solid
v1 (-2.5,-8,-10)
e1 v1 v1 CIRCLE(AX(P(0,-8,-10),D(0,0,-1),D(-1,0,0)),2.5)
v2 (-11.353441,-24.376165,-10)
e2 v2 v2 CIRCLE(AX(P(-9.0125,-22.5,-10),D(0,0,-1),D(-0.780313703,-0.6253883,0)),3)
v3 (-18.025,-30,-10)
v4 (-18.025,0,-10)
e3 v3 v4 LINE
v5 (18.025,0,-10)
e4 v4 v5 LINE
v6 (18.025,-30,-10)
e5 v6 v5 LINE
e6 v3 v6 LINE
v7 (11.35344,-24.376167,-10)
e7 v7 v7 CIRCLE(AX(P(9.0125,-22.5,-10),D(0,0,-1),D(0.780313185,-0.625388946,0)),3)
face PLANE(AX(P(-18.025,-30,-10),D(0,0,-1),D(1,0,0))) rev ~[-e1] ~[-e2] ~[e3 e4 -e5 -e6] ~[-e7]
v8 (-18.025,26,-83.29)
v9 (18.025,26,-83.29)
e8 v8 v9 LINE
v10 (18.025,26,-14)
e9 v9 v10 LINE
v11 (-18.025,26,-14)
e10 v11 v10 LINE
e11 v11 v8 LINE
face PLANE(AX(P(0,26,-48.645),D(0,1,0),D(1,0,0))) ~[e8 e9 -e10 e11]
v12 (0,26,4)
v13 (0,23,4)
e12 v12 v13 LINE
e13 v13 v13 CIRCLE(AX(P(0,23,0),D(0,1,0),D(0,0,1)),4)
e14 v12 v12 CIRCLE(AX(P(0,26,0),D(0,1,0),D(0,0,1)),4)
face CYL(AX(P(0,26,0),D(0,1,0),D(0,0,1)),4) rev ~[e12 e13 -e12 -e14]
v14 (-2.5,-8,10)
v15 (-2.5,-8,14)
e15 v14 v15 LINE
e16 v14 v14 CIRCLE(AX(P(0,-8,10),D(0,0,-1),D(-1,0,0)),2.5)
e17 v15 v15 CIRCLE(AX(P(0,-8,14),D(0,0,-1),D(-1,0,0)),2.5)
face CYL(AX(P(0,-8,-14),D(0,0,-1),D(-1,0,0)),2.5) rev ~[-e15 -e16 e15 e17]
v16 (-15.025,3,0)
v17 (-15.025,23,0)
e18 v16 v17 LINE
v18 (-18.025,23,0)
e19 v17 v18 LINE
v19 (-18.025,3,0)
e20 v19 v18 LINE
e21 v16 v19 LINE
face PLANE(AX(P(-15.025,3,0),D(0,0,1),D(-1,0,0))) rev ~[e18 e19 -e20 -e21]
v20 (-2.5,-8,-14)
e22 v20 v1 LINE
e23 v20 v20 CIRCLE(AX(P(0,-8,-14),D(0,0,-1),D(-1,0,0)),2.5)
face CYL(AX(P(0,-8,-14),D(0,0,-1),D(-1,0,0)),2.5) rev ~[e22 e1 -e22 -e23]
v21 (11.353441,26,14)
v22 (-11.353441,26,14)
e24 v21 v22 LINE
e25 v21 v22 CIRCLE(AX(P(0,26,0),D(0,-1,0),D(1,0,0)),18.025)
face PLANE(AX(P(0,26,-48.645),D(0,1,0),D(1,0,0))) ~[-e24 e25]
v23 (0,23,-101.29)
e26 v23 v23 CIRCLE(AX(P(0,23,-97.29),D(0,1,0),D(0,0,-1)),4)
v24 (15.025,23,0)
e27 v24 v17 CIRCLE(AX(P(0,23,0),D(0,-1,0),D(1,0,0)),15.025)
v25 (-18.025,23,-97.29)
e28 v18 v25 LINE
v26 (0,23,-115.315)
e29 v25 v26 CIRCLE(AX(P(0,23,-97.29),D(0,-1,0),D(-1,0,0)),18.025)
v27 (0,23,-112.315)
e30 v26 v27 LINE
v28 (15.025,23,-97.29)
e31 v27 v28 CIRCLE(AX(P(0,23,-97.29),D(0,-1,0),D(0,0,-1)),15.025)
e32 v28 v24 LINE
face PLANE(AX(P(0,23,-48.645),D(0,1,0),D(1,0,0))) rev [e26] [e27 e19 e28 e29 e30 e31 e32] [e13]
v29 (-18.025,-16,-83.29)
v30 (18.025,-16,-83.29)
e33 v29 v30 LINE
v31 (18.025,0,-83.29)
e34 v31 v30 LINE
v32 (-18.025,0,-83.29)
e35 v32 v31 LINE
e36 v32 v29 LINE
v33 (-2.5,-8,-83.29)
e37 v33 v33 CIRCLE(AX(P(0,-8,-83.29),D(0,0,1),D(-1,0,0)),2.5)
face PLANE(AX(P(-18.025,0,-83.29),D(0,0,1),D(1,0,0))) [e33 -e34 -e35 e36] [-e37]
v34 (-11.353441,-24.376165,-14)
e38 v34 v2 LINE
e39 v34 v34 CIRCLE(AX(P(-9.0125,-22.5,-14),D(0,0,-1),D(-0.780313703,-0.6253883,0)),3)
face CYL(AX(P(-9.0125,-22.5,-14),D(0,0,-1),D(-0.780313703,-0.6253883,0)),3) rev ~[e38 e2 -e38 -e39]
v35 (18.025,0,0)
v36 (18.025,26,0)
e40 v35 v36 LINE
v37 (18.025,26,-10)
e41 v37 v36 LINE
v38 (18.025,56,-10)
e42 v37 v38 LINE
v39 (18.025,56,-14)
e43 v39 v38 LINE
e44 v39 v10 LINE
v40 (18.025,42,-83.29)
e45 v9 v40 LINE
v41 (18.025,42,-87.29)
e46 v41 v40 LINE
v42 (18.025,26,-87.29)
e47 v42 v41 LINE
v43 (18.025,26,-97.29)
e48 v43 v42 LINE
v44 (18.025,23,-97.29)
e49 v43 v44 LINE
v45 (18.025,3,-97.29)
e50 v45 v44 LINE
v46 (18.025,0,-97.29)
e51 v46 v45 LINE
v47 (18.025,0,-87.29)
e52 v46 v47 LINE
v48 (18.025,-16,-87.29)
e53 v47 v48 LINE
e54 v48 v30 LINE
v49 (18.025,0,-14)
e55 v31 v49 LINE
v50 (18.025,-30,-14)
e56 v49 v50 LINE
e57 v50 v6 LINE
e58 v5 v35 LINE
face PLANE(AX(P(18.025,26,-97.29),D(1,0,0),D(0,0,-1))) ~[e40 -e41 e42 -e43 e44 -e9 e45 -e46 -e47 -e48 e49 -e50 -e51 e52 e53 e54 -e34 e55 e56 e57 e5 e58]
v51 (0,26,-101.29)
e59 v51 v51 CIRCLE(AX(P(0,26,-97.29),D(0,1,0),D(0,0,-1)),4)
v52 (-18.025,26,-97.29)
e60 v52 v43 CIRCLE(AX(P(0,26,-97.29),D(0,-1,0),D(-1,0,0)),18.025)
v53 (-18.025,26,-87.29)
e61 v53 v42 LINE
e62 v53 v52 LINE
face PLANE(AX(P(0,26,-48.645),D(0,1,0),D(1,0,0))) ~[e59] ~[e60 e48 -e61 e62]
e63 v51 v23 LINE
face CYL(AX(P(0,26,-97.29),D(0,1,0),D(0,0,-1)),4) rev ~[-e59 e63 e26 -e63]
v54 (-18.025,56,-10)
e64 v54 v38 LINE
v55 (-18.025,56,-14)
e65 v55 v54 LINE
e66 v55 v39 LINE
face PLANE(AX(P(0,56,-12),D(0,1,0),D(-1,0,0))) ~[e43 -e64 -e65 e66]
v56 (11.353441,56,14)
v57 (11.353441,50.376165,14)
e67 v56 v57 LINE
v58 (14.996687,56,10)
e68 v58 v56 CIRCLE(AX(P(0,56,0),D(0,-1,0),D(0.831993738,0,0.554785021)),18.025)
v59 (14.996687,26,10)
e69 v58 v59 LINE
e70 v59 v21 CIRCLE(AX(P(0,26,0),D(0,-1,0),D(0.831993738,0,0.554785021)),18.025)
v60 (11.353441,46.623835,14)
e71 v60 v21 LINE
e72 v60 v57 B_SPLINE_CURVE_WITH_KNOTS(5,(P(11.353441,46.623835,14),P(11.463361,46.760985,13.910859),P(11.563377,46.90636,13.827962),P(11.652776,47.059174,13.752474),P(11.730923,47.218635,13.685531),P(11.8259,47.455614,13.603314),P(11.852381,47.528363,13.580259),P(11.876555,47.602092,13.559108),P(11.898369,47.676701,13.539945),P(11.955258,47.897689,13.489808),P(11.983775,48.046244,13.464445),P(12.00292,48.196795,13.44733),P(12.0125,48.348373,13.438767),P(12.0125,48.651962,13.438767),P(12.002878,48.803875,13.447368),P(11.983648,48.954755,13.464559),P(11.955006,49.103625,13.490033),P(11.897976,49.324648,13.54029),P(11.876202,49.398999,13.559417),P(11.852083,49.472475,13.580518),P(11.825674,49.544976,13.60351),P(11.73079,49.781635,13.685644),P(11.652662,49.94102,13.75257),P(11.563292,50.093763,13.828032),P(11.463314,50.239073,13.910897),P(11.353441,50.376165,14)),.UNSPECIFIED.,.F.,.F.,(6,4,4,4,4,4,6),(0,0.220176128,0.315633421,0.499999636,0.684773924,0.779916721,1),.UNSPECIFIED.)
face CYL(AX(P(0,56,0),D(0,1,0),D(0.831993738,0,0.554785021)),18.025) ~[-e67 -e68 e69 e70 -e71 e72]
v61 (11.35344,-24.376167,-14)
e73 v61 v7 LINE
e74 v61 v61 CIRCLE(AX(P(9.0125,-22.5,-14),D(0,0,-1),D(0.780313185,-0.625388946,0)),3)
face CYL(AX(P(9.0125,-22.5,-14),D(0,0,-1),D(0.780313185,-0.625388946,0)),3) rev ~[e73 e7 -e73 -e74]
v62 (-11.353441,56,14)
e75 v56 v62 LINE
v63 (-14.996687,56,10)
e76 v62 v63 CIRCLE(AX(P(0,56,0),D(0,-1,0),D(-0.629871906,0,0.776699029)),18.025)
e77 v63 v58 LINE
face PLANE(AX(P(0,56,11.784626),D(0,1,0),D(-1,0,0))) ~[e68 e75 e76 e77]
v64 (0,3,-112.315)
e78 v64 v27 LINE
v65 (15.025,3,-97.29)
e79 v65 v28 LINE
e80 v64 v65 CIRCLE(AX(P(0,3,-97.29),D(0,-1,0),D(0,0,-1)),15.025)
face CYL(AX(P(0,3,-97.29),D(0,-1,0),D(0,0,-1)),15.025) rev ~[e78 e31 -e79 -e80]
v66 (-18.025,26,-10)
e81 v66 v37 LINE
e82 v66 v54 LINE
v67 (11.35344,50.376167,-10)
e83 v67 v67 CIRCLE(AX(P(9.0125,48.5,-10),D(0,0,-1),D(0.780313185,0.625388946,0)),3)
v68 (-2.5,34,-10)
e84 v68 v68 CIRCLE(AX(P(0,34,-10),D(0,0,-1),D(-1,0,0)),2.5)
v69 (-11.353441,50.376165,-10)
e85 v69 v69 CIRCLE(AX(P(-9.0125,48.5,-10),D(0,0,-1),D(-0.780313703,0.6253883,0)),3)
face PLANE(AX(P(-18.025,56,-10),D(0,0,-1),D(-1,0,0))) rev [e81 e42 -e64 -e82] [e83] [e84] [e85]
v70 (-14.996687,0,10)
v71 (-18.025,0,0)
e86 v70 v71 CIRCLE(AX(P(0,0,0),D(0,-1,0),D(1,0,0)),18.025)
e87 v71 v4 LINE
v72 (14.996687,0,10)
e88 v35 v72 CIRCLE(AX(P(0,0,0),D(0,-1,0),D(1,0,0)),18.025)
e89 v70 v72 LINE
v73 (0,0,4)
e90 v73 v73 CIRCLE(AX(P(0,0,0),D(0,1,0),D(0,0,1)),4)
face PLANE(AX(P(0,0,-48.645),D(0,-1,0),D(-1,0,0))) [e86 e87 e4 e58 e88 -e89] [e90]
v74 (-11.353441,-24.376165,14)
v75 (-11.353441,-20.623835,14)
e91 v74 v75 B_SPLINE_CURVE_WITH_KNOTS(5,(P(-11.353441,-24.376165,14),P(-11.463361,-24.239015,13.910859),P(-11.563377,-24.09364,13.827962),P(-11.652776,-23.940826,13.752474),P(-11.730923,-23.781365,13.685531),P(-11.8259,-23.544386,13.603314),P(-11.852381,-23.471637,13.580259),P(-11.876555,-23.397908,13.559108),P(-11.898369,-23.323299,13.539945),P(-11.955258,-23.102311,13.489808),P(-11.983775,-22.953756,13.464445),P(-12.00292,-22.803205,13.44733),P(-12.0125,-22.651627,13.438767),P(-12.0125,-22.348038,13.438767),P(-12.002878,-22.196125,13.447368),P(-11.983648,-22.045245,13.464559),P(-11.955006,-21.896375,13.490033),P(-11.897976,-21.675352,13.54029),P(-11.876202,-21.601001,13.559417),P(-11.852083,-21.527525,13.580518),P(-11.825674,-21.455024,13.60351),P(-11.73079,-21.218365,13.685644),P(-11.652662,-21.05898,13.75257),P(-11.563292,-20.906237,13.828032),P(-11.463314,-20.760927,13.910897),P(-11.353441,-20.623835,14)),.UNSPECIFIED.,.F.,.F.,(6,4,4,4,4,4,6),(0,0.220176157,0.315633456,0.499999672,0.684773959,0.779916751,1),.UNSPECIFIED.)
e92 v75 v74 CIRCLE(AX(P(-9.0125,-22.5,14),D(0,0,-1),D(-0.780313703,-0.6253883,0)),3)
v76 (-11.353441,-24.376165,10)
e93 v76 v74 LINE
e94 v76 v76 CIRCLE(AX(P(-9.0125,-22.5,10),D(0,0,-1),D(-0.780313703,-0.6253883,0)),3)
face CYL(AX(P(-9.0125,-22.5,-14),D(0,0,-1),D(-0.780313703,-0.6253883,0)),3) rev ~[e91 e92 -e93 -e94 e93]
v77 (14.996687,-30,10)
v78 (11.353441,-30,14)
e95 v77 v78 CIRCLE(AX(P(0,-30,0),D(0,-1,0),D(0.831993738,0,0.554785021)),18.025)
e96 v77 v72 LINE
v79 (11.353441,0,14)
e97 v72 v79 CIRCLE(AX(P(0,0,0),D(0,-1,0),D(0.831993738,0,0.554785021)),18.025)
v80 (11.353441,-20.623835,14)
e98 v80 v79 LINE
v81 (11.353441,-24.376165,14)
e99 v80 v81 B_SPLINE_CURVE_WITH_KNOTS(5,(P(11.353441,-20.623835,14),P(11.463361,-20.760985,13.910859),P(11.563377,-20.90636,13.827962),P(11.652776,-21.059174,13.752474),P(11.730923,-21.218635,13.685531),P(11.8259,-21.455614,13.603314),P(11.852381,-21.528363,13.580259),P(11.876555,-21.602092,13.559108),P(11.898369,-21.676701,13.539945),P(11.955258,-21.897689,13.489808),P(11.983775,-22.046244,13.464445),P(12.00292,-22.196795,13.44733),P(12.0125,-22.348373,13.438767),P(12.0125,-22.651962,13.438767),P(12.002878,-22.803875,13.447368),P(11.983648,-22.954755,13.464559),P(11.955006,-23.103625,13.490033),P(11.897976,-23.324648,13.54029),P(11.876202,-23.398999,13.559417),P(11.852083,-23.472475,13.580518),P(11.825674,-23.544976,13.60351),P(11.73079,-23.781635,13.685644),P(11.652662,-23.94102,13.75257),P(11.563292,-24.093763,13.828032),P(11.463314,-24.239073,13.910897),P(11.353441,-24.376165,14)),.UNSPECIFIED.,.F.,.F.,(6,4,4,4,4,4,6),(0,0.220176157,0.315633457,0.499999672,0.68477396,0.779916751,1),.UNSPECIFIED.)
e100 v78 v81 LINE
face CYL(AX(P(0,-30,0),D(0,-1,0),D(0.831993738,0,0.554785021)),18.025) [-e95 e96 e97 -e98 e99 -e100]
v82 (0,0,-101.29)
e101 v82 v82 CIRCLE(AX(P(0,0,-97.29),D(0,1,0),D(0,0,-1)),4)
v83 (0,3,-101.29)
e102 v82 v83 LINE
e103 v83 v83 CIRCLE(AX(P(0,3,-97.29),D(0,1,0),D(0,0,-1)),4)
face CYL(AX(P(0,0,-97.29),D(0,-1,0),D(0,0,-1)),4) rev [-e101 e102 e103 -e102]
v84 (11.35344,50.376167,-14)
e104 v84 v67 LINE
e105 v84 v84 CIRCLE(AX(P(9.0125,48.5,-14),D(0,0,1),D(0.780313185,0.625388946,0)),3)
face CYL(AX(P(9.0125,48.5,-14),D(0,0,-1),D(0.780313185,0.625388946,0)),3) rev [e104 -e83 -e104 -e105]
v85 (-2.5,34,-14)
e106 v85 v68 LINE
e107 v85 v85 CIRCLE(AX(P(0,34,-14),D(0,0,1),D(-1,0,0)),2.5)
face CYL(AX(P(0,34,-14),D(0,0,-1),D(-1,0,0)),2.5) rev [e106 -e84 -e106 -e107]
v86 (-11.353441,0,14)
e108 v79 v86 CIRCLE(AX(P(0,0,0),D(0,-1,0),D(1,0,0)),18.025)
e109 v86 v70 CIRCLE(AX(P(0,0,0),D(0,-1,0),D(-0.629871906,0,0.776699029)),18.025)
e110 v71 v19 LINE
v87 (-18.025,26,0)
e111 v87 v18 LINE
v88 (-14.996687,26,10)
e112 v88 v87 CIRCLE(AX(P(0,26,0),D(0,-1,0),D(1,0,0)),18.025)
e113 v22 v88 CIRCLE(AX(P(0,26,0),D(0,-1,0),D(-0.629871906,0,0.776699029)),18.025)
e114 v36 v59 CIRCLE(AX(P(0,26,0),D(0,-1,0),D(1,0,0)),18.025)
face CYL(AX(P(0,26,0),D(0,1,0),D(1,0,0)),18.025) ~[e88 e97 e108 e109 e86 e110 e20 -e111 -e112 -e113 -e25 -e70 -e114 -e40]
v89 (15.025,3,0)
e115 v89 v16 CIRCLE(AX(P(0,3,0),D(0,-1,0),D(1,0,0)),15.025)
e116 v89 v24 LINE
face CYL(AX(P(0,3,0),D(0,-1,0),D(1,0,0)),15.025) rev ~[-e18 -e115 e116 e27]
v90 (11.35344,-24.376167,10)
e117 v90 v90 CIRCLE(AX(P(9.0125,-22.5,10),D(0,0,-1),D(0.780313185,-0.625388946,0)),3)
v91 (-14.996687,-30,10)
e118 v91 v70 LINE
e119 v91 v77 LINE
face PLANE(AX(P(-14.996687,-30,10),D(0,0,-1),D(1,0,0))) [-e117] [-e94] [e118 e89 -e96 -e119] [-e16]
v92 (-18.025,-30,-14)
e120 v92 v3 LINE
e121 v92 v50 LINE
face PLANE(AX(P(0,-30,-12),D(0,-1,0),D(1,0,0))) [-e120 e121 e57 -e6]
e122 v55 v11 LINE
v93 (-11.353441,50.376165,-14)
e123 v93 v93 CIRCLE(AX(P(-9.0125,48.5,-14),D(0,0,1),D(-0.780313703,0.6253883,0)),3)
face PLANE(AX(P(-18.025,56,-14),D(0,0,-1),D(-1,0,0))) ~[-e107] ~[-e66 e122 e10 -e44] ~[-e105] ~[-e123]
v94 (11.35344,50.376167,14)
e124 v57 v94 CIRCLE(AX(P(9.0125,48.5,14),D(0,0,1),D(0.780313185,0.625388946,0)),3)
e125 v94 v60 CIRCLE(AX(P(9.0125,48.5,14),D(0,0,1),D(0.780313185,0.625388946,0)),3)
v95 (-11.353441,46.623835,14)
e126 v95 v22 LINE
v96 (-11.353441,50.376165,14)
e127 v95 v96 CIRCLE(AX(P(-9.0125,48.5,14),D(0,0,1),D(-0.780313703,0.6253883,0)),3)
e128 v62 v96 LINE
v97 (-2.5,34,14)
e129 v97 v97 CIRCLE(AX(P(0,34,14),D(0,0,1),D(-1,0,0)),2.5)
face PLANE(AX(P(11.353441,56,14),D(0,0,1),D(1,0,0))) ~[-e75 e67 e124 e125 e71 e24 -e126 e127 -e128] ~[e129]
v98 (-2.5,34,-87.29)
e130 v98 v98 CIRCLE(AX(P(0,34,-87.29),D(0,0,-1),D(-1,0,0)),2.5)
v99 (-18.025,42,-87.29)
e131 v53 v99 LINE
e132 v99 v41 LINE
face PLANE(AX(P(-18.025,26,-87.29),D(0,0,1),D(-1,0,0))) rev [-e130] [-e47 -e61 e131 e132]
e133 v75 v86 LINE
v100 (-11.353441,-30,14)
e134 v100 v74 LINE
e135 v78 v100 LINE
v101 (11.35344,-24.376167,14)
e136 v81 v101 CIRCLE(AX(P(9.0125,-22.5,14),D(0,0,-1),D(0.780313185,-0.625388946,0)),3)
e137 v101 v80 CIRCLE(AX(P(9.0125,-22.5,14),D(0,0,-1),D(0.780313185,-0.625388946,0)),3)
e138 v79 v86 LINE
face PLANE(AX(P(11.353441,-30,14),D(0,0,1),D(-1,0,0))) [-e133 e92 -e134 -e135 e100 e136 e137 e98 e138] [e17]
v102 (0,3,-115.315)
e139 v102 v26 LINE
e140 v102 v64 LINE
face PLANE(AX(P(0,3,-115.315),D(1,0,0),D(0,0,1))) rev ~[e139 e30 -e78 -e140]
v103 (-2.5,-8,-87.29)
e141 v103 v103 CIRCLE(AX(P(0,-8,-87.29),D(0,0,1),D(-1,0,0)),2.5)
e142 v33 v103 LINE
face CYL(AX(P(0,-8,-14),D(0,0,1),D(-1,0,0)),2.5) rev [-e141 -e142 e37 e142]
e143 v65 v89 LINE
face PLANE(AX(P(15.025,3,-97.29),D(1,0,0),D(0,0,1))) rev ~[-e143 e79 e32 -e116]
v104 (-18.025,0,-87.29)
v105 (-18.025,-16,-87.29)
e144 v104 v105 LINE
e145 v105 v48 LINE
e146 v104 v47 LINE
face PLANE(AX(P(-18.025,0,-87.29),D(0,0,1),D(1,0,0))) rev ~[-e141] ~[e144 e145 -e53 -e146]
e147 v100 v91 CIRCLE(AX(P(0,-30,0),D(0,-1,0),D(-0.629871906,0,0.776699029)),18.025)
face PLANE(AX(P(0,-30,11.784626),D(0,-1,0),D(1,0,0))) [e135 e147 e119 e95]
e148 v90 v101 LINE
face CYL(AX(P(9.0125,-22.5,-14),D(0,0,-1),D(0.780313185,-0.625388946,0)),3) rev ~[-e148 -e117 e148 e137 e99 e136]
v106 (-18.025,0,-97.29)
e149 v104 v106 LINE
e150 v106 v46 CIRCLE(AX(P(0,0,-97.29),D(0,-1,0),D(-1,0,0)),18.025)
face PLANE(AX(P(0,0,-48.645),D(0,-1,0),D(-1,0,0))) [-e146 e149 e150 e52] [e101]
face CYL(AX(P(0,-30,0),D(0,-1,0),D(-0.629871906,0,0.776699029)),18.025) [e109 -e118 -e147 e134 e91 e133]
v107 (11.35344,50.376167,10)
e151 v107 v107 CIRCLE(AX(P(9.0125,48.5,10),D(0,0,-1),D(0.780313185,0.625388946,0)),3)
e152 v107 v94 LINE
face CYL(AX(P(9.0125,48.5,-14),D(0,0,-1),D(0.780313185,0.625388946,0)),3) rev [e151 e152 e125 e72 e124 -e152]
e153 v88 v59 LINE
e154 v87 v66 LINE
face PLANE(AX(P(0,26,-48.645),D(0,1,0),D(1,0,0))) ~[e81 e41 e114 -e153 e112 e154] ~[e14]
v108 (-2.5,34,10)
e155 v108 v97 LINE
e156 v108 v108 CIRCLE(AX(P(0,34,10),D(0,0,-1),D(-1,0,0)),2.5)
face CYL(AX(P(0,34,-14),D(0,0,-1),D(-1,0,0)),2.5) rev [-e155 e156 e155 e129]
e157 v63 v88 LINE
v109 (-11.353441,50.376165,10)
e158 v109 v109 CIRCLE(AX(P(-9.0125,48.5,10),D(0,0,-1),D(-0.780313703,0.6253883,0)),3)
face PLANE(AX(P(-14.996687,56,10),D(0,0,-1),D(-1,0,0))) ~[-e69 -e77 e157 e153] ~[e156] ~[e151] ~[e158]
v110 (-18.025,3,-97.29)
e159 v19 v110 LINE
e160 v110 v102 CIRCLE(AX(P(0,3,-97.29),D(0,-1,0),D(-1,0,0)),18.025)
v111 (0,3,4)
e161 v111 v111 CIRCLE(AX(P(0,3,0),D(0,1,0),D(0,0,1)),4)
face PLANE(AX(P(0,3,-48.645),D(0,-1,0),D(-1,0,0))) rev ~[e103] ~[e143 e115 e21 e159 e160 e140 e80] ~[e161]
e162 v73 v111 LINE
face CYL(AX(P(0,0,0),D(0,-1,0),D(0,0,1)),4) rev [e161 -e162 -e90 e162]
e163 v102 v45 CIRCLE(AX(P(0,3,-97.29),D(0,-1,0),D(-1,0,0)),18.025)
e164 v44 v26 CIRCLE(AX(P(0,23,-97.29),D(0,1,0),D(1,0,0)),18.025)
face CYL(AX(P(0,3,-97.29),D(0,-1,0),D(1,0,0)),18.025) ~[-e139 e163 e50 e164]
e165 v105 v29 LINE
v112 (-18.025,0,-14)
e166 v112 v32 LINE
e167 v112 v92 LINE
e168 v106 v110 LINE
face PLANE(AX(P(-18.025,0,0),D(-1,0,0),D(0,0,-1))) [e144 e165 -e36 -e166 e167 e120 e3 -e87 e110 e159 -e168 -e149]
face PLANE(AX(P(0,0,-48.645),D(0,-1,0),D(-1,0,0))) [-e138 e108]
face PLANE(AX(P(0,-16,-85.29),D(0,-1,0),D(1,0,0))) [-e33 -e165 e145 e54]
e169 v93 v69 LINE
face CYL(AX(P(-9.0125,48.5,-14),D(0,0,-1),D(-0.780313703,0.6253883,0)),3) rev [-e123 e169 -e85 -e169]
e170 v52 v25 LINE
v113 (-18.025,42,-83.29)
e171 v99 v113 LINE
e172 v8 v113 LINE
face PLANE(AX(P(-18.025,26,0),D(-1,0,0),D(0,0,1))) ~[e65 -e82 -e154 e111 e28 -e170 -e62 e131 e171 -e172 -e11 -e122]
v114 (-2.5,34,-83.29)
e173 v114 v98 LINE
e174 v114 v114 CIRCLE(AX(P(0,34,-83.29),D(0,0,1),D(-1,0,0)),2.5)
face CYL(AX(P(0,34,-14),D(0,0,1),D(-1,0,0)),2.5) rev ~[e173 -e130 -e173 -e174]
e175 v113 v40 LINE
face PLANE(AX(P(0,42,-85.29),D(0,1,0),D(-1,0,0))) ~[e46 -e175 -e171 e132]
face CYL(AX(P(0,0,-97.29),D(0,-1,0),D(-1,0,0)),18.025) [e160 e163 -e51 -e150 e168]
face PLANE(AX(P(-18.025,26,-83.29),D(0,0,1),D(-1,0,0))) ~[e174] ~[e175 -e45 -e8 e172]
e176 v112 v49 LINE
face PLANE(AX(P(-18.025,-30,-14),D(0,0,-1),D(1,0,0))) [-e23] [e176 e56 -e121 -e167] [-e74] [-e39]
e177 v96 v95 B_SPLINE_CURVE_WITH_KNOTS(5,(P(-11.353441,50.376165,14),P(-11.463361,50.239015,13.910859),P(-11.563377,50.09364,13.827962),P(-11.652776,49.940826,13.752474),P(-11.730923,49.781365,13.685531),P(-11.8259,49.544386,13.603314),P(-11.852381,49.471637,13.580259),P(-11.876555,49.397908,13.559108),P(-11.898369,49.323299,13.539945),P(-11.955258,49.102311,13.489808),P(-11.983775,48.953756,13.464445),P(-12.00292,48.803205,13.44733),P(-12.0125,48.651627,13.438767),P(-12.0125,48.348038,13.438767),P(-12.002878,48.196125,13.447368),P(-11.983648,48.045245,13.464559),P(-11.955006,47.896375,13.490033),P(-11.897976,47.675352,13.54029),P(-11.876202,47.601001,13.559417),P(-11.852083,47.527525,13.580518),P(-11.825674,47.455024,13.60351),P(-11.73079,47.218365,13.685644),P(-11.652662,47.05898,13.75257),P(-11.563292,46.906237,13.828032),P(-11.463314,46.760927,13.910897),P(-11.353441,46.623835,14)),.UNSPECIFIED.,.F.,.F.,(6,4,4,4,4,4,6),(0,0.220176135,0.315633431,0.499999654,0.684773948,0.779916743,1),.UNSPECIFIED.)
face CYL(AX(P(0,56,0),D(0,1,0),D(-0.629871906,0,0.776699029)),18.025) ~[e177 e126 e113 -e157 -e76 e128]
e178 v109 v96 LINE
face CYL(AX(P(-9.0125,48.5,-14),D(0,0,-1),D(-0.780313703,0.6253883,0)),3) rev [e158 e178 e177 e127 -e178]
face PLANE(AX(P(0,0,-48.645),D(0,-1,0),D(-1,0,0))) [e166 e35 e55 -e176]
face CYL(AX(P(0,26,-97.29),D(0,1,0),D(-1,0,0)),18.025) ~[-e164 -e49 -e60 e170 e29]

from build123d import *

# Parameters (mm, degrees)
SKETCH1_R                      = 4
BOSS_EXTRUDE1_DEPTH            = 3
BOSS_EXTRUDE3_DEPTH            = 20
BOSS_EXTRUDE4_START            = 30
SKETCH4_W                      = 36.05
SKETCH4_H                      = 4
BOSS_EXTRUDE4_DEPTH            = 30
SKETCH6_W                      = 36.05
SKETCH6_H                      = 4
BOSS_EXTRUDE5_DEPTH            = 16
CUT_EXTRUDE2_REACH             = 109.19
SKETCH5_R                      = 2.5
SKETCH5_R_2                    = 3
CUT_EXTRUDE2_DIRECTION_2_REACH = 109.19


with BuildPart() as part:
    # Sketch1 → Boss-Extrude1 (new body)
    with BuildSketch(Plane(origin=(0, 0, 0), x_dir=(1, 0, 0), z_dir=(0, 1, 0))):
        with BuildLine():
            Line((-18.025, 0), (-18.025, 97.29))
            ThreePointArc((-18.025, 97.29), (0, 115.315), (18.025, 97.29))
            Line((18.025, 97.29), (18.025, 0))
            ThreePointArc((18.025, 0), (0, -18.025), (-18.025, 0))
        make_face()
        with Locations(Location((0, 0, 0), (0, 0, 270))):
            Circle(SKETCH1_R, mode=Mode.SUBTRACT)
        with Locations(Location((0, 97.29, 0), (0, 0, 90))):
            Circle(SKETCH1_R, mode=Mode.SUBTRACT)
    boss_extrude1 = extrude(amount=BOSS_EXTRUDE1_DEPTH)

    # Sketch3 → Boss-Extrude3 (add)
    with BuildSketch(Plane(origin=(0, 3, 0), x_dir=(1, 0, 0), z_dir=(0, 1, 0))):
        with BuildLine():
            Line((-15.025, 0), (-18.025, 0))
            ThreePointArc((-18.025, 0), (0, -18.025), (18.025, 0))
            Line((18.025, 0), (18.025, 97.29))
            ThreePointArc((18.025, 97.29), (12.745599731, 110.035599731), (0, 115.315))
            Line((0, 115.315), (0, 112.315))
            ThreePointArc((0, 112.315), (10.624279387, 107.914279387), (15.025, 97.29))
            Line((15.025, 97.29), (15.025, 0))
            ThreePointArc((15.025, 0), (0, -15.025), (-15.025, 0))
        make_face()
    extrude(amount=BOSS_EXTRUDE3_DEPTH)

    # Mirror1: Boss-Extrude1 across plane
    add(boss_extrude1.mirror(Plane.ZX.offset(13)))

    # Sketch4 → Boss-Extrude4 (add)
    with BuildSketch(Plane.XZ.offset(BOSS_EXTRUDE4_START)):
        with Locations((0, -12)):
            Rectangle(SKETCH4_W, SKETCH4_H)
        with BuildLine():
            Line((-14.996687134, 10), (14.996687134, 10))
            ThreePointArc((14.996687134, 10), (13.326001448, 12.137475454), (11.353441108, 14))
            Line((11.353441108, 14), (-11.353441108, 14))
            ThreePointArc((-11.353441108, 14), (-13.326001448, 12.137475454), (-14.996687134, 10))
        make_face()
    boss_extrude4 = extrude(amount=-BOSS_EXTRUDE4_DEPTH)

    # Sketch6 → Boss-Extrude5 (add)
    with BuildSketch(Plane.XZ):
        with Locations((0, -12)):
            Rectangle(SKETCH6_W, SKETCH6_H)
        with Locations((0, -85.29)):
            Rectangle(SKETCH6_W, SKETCH6_H)
    boss_extrude5 = extrude(amount=BOSS_EXTRUDE5_DEPTH)

    # Cut-Extrude2: up to this face of the body (flat: up to its plane)
    cut_extrude2_end = Plane(part.part.faces().sort_by_distance((0, -15, 14))[0])
    # Sketch5 → Cut-Extrude2 (cut, up to the picked face)
    with BuildSketch(Plane(origin=(0, 0, -14), x_dir=(-1, 0, 0), z_dir=(0, 0, -1)), mode=Mode.PRIVATE) as cut_extrude2_sk1:
        with Locations((0, -8)):
            Circle(SKETCH5_R)
    cut_extrude2_tool1 = split(extrude(cut_extrude2_sk1.sketch, amount=-CUT_EXTRUDE2_REACH, mode=Mode.PRIVATE), bisect_by=cut_extrude2_end, keep=Keep.BOTH, mode=Mode.PRIVATE)
    # Sketch5 → Cut-Extrude2 (cut, up to the picked face)
    with BuildSketch(Plane(origin=(0, 0, -14), x_dir=(-1, 0, 0), z_dir=(0, 0, -1)), mode=Mode.PRIVATE) as cut_extrude2_sk2:
        with Locations(Location((-9.0125, -22.5, 0), (0, 0, 218.710740726))):
            Circle(SKETCH5_R_2)
    cut_extrude2_tool2 = split(extrude(cut_extrude2_sk2.sketch, amount=-CUT_EXTRUDE2_REACH, mode=Mode.PRIVATE), bisect_by=cut_extrude2_end, keep=Keep.BOTH, mode=Mode.PRIVATE)
    # Sketch5 → Cut-Extrude2 (cut, up to the picked face)
    with BuildSketch(Plane(origin=(0, 0, -14), x_dir=(-1, 0, 0), z_dir=(0, 0, -1)), mode=Mode.PRIVATE) as cut_extrude2_sk3:
        with Locations(Location((9.0125, -22.5, 0), (0, 0, 321.289306711))):
            Circle(SKETCH5_R_2)
    cut_extrude2_tool3 = split(extrude(cut_extrude2_sk3.sketch, amount=-CUT_EXTRUDE2_REACH, mode=Mode.PRIVATE), bisect_by=cut_extrude2_end, keep=Keep.BOTH, mode=Mode.PRIVATE)
    cut_extrude2_1 = cut_extrude2_tool1.solids().sort_by(Axis((0, -8, -14), (0, 0, 1)))[0]
    add(cut_extrude2_1, mode=Mode.SUBTRACT)
    cut_extrude2_2 = cut_extrude2_tool2.solids().sort_by(Axis((9.0125, -22.5, -14), (0, 0, 1)))[0]
    add(cut_extrude2_2, mode=Mode.SUBTRACT)
    cut_extrude2_3 = cut_extrude2_tool3.solids().sort_by(Axis((-9.0125, -22.5, -14), (0, 0, 1)))[0]
    add(cut_extrude2_3, mode=Mode.SUBTRACT)
    cut_extrude2 = cut_extrude2_1 + cut_extrude2_2 + cut_extrude2_3  # Cut-Extrude2 as one shape, for the pattern or mirror that repeats it

    # Cut-Extrude2 direction 2: up to this face of the body (flat: up to its plane)
    cut_extrude2_direction_2_end = Plane(part.part.faces().sort_by_distance((0, -8, -87.29))[0])
    # Sketch5 → Cut-Extrude2 direction 2 (cut, up to the picked face)
    with BuildSketch(Plane(origin=(0, 0, -14), x_dir=(-1, 0, 0), z_dir=(0, 0, -1)), mode=Mode.PRIVATE) as cut_extrude2_direction_2_sk1:
        with Locations((0, -8)):
            Circle(SKETCH5_R)
    cut_extrude2_direction_2_tool1 = split(extrude(cut_extrude2_direction_2_sk1.sketch, amount=CUT_EXTRUDE2_DIRECTION_2_REACH, mode=Mode.PRIVATE), bisect_by=cut_extrude2_direction_2_end, keep=Keep.BOTH, mode=Mode.PRIVATE)
    # Sketch5 → Cut-Extrude2 direction 2 (cut, up to the picked face)
    with BuildSketch(Plane(origin=(0, 0, -14), x_dir=(-1, 0, 0), z_dir=(0, 0, -1)), mode=Mode.PRIVATE) as cut_extrude2_direction_2_sk2:
        with Locations(Location((-9.0125, -22.5, 0), (0, 0, 218.710740726))):
            Circle(SKETCH5_R_2)
    cut_extrude2_direction_2_tool2 = split(extrude(cut_extrude2_direction_2_sk2.sketch, amount=CUT_EXTRUDE2_DIRECTION_2_REACH, mode=Mode.PRIVATE), bisect_by=cut_extrude2_direction_2_end, keep=Keep.BOTH, mode=Mode.PRIVATE)
    # Sketch5 → Cut-Extrude2 direction 2 (cut, up to the picked face)
    with BuildSketch(Plane(origin=(0, 0, -14), x_dir=(-1, 0, 0), z_dir=(0, 0, -1)), mode=Mode.PRIVATE) as cut_extrude2_direction_2_sk3:
        with Locations(Location((9.0125, -22.5, 0), (0, 0, 321.289306711))):
            Circle(SKETCH5_R_2)
    cut_extrude2_direction_2_tool3 = split(extrude(cut_extrude2_direction_2_sk3.sketch, amount=CUT_EXTRUDE2_DIRECTION_2_REACH, mode=Mode.PRIVATE), bisect_by=cut_extrude2_direction_2_end, keep=Keep.BOTH, mode=Mode.PRIVATE)
    cut_extrude2_direction_2_1 = cut_extrude2_direction_2_tool1.solids().sort_by(Axis((0, -8, -14), (0, 0, -1)))[0]
    add(cut_extrude2_direction_2_1, mode=Mode.SUBTRACT)
    cut_extrude2_direction_2_2 = cut_extrude2_direction_2_tool2.solids().sort_by(Axis((9.0125, -22.5, -14), (0, 0, -1)))[0]
    add(cut_extrude2_direction_2_2, mode=Mode.SUBTRACT)
    cut_extrude2_direction_2_3 = cut_extrude2_direction_2_tool3.solids().sort_by(Axis((-9.0125, -22.5, -14), (0, 0, -1)))[0]
    add(cut_extrude2_direction_2_3, mode=Mode.SUBTRACT)
    cut_extrude2_direction_2 = cut_extrude2_direction_2_1 + cut_extrude2_direction_2_2 + cut_extrude2_direction_2_3  # Cut-Extrude2 direction 2 as one shape, for the pattern or mirror that repeats it

    # Mirror3: Boss-Extrude4, Boss-Extrude5, Cut-Extrude2, Cut-Extrude2 direction 2 across plane
    add(boss_extrude4.mirror(Plane.ZX.offset(13)))
    add(boss_extrude5.mirror(Plane.ZX.offset(13)))
    add(cut_extrude2.mirror(Plane.ZX.offset(13)), mode=Mode.SUBTRACT)
    add(cut_extrude2_direction_2.mirror(Plane.ZX.offset(13)), mode=Mode.SUBTRACT)


solid = part.part
